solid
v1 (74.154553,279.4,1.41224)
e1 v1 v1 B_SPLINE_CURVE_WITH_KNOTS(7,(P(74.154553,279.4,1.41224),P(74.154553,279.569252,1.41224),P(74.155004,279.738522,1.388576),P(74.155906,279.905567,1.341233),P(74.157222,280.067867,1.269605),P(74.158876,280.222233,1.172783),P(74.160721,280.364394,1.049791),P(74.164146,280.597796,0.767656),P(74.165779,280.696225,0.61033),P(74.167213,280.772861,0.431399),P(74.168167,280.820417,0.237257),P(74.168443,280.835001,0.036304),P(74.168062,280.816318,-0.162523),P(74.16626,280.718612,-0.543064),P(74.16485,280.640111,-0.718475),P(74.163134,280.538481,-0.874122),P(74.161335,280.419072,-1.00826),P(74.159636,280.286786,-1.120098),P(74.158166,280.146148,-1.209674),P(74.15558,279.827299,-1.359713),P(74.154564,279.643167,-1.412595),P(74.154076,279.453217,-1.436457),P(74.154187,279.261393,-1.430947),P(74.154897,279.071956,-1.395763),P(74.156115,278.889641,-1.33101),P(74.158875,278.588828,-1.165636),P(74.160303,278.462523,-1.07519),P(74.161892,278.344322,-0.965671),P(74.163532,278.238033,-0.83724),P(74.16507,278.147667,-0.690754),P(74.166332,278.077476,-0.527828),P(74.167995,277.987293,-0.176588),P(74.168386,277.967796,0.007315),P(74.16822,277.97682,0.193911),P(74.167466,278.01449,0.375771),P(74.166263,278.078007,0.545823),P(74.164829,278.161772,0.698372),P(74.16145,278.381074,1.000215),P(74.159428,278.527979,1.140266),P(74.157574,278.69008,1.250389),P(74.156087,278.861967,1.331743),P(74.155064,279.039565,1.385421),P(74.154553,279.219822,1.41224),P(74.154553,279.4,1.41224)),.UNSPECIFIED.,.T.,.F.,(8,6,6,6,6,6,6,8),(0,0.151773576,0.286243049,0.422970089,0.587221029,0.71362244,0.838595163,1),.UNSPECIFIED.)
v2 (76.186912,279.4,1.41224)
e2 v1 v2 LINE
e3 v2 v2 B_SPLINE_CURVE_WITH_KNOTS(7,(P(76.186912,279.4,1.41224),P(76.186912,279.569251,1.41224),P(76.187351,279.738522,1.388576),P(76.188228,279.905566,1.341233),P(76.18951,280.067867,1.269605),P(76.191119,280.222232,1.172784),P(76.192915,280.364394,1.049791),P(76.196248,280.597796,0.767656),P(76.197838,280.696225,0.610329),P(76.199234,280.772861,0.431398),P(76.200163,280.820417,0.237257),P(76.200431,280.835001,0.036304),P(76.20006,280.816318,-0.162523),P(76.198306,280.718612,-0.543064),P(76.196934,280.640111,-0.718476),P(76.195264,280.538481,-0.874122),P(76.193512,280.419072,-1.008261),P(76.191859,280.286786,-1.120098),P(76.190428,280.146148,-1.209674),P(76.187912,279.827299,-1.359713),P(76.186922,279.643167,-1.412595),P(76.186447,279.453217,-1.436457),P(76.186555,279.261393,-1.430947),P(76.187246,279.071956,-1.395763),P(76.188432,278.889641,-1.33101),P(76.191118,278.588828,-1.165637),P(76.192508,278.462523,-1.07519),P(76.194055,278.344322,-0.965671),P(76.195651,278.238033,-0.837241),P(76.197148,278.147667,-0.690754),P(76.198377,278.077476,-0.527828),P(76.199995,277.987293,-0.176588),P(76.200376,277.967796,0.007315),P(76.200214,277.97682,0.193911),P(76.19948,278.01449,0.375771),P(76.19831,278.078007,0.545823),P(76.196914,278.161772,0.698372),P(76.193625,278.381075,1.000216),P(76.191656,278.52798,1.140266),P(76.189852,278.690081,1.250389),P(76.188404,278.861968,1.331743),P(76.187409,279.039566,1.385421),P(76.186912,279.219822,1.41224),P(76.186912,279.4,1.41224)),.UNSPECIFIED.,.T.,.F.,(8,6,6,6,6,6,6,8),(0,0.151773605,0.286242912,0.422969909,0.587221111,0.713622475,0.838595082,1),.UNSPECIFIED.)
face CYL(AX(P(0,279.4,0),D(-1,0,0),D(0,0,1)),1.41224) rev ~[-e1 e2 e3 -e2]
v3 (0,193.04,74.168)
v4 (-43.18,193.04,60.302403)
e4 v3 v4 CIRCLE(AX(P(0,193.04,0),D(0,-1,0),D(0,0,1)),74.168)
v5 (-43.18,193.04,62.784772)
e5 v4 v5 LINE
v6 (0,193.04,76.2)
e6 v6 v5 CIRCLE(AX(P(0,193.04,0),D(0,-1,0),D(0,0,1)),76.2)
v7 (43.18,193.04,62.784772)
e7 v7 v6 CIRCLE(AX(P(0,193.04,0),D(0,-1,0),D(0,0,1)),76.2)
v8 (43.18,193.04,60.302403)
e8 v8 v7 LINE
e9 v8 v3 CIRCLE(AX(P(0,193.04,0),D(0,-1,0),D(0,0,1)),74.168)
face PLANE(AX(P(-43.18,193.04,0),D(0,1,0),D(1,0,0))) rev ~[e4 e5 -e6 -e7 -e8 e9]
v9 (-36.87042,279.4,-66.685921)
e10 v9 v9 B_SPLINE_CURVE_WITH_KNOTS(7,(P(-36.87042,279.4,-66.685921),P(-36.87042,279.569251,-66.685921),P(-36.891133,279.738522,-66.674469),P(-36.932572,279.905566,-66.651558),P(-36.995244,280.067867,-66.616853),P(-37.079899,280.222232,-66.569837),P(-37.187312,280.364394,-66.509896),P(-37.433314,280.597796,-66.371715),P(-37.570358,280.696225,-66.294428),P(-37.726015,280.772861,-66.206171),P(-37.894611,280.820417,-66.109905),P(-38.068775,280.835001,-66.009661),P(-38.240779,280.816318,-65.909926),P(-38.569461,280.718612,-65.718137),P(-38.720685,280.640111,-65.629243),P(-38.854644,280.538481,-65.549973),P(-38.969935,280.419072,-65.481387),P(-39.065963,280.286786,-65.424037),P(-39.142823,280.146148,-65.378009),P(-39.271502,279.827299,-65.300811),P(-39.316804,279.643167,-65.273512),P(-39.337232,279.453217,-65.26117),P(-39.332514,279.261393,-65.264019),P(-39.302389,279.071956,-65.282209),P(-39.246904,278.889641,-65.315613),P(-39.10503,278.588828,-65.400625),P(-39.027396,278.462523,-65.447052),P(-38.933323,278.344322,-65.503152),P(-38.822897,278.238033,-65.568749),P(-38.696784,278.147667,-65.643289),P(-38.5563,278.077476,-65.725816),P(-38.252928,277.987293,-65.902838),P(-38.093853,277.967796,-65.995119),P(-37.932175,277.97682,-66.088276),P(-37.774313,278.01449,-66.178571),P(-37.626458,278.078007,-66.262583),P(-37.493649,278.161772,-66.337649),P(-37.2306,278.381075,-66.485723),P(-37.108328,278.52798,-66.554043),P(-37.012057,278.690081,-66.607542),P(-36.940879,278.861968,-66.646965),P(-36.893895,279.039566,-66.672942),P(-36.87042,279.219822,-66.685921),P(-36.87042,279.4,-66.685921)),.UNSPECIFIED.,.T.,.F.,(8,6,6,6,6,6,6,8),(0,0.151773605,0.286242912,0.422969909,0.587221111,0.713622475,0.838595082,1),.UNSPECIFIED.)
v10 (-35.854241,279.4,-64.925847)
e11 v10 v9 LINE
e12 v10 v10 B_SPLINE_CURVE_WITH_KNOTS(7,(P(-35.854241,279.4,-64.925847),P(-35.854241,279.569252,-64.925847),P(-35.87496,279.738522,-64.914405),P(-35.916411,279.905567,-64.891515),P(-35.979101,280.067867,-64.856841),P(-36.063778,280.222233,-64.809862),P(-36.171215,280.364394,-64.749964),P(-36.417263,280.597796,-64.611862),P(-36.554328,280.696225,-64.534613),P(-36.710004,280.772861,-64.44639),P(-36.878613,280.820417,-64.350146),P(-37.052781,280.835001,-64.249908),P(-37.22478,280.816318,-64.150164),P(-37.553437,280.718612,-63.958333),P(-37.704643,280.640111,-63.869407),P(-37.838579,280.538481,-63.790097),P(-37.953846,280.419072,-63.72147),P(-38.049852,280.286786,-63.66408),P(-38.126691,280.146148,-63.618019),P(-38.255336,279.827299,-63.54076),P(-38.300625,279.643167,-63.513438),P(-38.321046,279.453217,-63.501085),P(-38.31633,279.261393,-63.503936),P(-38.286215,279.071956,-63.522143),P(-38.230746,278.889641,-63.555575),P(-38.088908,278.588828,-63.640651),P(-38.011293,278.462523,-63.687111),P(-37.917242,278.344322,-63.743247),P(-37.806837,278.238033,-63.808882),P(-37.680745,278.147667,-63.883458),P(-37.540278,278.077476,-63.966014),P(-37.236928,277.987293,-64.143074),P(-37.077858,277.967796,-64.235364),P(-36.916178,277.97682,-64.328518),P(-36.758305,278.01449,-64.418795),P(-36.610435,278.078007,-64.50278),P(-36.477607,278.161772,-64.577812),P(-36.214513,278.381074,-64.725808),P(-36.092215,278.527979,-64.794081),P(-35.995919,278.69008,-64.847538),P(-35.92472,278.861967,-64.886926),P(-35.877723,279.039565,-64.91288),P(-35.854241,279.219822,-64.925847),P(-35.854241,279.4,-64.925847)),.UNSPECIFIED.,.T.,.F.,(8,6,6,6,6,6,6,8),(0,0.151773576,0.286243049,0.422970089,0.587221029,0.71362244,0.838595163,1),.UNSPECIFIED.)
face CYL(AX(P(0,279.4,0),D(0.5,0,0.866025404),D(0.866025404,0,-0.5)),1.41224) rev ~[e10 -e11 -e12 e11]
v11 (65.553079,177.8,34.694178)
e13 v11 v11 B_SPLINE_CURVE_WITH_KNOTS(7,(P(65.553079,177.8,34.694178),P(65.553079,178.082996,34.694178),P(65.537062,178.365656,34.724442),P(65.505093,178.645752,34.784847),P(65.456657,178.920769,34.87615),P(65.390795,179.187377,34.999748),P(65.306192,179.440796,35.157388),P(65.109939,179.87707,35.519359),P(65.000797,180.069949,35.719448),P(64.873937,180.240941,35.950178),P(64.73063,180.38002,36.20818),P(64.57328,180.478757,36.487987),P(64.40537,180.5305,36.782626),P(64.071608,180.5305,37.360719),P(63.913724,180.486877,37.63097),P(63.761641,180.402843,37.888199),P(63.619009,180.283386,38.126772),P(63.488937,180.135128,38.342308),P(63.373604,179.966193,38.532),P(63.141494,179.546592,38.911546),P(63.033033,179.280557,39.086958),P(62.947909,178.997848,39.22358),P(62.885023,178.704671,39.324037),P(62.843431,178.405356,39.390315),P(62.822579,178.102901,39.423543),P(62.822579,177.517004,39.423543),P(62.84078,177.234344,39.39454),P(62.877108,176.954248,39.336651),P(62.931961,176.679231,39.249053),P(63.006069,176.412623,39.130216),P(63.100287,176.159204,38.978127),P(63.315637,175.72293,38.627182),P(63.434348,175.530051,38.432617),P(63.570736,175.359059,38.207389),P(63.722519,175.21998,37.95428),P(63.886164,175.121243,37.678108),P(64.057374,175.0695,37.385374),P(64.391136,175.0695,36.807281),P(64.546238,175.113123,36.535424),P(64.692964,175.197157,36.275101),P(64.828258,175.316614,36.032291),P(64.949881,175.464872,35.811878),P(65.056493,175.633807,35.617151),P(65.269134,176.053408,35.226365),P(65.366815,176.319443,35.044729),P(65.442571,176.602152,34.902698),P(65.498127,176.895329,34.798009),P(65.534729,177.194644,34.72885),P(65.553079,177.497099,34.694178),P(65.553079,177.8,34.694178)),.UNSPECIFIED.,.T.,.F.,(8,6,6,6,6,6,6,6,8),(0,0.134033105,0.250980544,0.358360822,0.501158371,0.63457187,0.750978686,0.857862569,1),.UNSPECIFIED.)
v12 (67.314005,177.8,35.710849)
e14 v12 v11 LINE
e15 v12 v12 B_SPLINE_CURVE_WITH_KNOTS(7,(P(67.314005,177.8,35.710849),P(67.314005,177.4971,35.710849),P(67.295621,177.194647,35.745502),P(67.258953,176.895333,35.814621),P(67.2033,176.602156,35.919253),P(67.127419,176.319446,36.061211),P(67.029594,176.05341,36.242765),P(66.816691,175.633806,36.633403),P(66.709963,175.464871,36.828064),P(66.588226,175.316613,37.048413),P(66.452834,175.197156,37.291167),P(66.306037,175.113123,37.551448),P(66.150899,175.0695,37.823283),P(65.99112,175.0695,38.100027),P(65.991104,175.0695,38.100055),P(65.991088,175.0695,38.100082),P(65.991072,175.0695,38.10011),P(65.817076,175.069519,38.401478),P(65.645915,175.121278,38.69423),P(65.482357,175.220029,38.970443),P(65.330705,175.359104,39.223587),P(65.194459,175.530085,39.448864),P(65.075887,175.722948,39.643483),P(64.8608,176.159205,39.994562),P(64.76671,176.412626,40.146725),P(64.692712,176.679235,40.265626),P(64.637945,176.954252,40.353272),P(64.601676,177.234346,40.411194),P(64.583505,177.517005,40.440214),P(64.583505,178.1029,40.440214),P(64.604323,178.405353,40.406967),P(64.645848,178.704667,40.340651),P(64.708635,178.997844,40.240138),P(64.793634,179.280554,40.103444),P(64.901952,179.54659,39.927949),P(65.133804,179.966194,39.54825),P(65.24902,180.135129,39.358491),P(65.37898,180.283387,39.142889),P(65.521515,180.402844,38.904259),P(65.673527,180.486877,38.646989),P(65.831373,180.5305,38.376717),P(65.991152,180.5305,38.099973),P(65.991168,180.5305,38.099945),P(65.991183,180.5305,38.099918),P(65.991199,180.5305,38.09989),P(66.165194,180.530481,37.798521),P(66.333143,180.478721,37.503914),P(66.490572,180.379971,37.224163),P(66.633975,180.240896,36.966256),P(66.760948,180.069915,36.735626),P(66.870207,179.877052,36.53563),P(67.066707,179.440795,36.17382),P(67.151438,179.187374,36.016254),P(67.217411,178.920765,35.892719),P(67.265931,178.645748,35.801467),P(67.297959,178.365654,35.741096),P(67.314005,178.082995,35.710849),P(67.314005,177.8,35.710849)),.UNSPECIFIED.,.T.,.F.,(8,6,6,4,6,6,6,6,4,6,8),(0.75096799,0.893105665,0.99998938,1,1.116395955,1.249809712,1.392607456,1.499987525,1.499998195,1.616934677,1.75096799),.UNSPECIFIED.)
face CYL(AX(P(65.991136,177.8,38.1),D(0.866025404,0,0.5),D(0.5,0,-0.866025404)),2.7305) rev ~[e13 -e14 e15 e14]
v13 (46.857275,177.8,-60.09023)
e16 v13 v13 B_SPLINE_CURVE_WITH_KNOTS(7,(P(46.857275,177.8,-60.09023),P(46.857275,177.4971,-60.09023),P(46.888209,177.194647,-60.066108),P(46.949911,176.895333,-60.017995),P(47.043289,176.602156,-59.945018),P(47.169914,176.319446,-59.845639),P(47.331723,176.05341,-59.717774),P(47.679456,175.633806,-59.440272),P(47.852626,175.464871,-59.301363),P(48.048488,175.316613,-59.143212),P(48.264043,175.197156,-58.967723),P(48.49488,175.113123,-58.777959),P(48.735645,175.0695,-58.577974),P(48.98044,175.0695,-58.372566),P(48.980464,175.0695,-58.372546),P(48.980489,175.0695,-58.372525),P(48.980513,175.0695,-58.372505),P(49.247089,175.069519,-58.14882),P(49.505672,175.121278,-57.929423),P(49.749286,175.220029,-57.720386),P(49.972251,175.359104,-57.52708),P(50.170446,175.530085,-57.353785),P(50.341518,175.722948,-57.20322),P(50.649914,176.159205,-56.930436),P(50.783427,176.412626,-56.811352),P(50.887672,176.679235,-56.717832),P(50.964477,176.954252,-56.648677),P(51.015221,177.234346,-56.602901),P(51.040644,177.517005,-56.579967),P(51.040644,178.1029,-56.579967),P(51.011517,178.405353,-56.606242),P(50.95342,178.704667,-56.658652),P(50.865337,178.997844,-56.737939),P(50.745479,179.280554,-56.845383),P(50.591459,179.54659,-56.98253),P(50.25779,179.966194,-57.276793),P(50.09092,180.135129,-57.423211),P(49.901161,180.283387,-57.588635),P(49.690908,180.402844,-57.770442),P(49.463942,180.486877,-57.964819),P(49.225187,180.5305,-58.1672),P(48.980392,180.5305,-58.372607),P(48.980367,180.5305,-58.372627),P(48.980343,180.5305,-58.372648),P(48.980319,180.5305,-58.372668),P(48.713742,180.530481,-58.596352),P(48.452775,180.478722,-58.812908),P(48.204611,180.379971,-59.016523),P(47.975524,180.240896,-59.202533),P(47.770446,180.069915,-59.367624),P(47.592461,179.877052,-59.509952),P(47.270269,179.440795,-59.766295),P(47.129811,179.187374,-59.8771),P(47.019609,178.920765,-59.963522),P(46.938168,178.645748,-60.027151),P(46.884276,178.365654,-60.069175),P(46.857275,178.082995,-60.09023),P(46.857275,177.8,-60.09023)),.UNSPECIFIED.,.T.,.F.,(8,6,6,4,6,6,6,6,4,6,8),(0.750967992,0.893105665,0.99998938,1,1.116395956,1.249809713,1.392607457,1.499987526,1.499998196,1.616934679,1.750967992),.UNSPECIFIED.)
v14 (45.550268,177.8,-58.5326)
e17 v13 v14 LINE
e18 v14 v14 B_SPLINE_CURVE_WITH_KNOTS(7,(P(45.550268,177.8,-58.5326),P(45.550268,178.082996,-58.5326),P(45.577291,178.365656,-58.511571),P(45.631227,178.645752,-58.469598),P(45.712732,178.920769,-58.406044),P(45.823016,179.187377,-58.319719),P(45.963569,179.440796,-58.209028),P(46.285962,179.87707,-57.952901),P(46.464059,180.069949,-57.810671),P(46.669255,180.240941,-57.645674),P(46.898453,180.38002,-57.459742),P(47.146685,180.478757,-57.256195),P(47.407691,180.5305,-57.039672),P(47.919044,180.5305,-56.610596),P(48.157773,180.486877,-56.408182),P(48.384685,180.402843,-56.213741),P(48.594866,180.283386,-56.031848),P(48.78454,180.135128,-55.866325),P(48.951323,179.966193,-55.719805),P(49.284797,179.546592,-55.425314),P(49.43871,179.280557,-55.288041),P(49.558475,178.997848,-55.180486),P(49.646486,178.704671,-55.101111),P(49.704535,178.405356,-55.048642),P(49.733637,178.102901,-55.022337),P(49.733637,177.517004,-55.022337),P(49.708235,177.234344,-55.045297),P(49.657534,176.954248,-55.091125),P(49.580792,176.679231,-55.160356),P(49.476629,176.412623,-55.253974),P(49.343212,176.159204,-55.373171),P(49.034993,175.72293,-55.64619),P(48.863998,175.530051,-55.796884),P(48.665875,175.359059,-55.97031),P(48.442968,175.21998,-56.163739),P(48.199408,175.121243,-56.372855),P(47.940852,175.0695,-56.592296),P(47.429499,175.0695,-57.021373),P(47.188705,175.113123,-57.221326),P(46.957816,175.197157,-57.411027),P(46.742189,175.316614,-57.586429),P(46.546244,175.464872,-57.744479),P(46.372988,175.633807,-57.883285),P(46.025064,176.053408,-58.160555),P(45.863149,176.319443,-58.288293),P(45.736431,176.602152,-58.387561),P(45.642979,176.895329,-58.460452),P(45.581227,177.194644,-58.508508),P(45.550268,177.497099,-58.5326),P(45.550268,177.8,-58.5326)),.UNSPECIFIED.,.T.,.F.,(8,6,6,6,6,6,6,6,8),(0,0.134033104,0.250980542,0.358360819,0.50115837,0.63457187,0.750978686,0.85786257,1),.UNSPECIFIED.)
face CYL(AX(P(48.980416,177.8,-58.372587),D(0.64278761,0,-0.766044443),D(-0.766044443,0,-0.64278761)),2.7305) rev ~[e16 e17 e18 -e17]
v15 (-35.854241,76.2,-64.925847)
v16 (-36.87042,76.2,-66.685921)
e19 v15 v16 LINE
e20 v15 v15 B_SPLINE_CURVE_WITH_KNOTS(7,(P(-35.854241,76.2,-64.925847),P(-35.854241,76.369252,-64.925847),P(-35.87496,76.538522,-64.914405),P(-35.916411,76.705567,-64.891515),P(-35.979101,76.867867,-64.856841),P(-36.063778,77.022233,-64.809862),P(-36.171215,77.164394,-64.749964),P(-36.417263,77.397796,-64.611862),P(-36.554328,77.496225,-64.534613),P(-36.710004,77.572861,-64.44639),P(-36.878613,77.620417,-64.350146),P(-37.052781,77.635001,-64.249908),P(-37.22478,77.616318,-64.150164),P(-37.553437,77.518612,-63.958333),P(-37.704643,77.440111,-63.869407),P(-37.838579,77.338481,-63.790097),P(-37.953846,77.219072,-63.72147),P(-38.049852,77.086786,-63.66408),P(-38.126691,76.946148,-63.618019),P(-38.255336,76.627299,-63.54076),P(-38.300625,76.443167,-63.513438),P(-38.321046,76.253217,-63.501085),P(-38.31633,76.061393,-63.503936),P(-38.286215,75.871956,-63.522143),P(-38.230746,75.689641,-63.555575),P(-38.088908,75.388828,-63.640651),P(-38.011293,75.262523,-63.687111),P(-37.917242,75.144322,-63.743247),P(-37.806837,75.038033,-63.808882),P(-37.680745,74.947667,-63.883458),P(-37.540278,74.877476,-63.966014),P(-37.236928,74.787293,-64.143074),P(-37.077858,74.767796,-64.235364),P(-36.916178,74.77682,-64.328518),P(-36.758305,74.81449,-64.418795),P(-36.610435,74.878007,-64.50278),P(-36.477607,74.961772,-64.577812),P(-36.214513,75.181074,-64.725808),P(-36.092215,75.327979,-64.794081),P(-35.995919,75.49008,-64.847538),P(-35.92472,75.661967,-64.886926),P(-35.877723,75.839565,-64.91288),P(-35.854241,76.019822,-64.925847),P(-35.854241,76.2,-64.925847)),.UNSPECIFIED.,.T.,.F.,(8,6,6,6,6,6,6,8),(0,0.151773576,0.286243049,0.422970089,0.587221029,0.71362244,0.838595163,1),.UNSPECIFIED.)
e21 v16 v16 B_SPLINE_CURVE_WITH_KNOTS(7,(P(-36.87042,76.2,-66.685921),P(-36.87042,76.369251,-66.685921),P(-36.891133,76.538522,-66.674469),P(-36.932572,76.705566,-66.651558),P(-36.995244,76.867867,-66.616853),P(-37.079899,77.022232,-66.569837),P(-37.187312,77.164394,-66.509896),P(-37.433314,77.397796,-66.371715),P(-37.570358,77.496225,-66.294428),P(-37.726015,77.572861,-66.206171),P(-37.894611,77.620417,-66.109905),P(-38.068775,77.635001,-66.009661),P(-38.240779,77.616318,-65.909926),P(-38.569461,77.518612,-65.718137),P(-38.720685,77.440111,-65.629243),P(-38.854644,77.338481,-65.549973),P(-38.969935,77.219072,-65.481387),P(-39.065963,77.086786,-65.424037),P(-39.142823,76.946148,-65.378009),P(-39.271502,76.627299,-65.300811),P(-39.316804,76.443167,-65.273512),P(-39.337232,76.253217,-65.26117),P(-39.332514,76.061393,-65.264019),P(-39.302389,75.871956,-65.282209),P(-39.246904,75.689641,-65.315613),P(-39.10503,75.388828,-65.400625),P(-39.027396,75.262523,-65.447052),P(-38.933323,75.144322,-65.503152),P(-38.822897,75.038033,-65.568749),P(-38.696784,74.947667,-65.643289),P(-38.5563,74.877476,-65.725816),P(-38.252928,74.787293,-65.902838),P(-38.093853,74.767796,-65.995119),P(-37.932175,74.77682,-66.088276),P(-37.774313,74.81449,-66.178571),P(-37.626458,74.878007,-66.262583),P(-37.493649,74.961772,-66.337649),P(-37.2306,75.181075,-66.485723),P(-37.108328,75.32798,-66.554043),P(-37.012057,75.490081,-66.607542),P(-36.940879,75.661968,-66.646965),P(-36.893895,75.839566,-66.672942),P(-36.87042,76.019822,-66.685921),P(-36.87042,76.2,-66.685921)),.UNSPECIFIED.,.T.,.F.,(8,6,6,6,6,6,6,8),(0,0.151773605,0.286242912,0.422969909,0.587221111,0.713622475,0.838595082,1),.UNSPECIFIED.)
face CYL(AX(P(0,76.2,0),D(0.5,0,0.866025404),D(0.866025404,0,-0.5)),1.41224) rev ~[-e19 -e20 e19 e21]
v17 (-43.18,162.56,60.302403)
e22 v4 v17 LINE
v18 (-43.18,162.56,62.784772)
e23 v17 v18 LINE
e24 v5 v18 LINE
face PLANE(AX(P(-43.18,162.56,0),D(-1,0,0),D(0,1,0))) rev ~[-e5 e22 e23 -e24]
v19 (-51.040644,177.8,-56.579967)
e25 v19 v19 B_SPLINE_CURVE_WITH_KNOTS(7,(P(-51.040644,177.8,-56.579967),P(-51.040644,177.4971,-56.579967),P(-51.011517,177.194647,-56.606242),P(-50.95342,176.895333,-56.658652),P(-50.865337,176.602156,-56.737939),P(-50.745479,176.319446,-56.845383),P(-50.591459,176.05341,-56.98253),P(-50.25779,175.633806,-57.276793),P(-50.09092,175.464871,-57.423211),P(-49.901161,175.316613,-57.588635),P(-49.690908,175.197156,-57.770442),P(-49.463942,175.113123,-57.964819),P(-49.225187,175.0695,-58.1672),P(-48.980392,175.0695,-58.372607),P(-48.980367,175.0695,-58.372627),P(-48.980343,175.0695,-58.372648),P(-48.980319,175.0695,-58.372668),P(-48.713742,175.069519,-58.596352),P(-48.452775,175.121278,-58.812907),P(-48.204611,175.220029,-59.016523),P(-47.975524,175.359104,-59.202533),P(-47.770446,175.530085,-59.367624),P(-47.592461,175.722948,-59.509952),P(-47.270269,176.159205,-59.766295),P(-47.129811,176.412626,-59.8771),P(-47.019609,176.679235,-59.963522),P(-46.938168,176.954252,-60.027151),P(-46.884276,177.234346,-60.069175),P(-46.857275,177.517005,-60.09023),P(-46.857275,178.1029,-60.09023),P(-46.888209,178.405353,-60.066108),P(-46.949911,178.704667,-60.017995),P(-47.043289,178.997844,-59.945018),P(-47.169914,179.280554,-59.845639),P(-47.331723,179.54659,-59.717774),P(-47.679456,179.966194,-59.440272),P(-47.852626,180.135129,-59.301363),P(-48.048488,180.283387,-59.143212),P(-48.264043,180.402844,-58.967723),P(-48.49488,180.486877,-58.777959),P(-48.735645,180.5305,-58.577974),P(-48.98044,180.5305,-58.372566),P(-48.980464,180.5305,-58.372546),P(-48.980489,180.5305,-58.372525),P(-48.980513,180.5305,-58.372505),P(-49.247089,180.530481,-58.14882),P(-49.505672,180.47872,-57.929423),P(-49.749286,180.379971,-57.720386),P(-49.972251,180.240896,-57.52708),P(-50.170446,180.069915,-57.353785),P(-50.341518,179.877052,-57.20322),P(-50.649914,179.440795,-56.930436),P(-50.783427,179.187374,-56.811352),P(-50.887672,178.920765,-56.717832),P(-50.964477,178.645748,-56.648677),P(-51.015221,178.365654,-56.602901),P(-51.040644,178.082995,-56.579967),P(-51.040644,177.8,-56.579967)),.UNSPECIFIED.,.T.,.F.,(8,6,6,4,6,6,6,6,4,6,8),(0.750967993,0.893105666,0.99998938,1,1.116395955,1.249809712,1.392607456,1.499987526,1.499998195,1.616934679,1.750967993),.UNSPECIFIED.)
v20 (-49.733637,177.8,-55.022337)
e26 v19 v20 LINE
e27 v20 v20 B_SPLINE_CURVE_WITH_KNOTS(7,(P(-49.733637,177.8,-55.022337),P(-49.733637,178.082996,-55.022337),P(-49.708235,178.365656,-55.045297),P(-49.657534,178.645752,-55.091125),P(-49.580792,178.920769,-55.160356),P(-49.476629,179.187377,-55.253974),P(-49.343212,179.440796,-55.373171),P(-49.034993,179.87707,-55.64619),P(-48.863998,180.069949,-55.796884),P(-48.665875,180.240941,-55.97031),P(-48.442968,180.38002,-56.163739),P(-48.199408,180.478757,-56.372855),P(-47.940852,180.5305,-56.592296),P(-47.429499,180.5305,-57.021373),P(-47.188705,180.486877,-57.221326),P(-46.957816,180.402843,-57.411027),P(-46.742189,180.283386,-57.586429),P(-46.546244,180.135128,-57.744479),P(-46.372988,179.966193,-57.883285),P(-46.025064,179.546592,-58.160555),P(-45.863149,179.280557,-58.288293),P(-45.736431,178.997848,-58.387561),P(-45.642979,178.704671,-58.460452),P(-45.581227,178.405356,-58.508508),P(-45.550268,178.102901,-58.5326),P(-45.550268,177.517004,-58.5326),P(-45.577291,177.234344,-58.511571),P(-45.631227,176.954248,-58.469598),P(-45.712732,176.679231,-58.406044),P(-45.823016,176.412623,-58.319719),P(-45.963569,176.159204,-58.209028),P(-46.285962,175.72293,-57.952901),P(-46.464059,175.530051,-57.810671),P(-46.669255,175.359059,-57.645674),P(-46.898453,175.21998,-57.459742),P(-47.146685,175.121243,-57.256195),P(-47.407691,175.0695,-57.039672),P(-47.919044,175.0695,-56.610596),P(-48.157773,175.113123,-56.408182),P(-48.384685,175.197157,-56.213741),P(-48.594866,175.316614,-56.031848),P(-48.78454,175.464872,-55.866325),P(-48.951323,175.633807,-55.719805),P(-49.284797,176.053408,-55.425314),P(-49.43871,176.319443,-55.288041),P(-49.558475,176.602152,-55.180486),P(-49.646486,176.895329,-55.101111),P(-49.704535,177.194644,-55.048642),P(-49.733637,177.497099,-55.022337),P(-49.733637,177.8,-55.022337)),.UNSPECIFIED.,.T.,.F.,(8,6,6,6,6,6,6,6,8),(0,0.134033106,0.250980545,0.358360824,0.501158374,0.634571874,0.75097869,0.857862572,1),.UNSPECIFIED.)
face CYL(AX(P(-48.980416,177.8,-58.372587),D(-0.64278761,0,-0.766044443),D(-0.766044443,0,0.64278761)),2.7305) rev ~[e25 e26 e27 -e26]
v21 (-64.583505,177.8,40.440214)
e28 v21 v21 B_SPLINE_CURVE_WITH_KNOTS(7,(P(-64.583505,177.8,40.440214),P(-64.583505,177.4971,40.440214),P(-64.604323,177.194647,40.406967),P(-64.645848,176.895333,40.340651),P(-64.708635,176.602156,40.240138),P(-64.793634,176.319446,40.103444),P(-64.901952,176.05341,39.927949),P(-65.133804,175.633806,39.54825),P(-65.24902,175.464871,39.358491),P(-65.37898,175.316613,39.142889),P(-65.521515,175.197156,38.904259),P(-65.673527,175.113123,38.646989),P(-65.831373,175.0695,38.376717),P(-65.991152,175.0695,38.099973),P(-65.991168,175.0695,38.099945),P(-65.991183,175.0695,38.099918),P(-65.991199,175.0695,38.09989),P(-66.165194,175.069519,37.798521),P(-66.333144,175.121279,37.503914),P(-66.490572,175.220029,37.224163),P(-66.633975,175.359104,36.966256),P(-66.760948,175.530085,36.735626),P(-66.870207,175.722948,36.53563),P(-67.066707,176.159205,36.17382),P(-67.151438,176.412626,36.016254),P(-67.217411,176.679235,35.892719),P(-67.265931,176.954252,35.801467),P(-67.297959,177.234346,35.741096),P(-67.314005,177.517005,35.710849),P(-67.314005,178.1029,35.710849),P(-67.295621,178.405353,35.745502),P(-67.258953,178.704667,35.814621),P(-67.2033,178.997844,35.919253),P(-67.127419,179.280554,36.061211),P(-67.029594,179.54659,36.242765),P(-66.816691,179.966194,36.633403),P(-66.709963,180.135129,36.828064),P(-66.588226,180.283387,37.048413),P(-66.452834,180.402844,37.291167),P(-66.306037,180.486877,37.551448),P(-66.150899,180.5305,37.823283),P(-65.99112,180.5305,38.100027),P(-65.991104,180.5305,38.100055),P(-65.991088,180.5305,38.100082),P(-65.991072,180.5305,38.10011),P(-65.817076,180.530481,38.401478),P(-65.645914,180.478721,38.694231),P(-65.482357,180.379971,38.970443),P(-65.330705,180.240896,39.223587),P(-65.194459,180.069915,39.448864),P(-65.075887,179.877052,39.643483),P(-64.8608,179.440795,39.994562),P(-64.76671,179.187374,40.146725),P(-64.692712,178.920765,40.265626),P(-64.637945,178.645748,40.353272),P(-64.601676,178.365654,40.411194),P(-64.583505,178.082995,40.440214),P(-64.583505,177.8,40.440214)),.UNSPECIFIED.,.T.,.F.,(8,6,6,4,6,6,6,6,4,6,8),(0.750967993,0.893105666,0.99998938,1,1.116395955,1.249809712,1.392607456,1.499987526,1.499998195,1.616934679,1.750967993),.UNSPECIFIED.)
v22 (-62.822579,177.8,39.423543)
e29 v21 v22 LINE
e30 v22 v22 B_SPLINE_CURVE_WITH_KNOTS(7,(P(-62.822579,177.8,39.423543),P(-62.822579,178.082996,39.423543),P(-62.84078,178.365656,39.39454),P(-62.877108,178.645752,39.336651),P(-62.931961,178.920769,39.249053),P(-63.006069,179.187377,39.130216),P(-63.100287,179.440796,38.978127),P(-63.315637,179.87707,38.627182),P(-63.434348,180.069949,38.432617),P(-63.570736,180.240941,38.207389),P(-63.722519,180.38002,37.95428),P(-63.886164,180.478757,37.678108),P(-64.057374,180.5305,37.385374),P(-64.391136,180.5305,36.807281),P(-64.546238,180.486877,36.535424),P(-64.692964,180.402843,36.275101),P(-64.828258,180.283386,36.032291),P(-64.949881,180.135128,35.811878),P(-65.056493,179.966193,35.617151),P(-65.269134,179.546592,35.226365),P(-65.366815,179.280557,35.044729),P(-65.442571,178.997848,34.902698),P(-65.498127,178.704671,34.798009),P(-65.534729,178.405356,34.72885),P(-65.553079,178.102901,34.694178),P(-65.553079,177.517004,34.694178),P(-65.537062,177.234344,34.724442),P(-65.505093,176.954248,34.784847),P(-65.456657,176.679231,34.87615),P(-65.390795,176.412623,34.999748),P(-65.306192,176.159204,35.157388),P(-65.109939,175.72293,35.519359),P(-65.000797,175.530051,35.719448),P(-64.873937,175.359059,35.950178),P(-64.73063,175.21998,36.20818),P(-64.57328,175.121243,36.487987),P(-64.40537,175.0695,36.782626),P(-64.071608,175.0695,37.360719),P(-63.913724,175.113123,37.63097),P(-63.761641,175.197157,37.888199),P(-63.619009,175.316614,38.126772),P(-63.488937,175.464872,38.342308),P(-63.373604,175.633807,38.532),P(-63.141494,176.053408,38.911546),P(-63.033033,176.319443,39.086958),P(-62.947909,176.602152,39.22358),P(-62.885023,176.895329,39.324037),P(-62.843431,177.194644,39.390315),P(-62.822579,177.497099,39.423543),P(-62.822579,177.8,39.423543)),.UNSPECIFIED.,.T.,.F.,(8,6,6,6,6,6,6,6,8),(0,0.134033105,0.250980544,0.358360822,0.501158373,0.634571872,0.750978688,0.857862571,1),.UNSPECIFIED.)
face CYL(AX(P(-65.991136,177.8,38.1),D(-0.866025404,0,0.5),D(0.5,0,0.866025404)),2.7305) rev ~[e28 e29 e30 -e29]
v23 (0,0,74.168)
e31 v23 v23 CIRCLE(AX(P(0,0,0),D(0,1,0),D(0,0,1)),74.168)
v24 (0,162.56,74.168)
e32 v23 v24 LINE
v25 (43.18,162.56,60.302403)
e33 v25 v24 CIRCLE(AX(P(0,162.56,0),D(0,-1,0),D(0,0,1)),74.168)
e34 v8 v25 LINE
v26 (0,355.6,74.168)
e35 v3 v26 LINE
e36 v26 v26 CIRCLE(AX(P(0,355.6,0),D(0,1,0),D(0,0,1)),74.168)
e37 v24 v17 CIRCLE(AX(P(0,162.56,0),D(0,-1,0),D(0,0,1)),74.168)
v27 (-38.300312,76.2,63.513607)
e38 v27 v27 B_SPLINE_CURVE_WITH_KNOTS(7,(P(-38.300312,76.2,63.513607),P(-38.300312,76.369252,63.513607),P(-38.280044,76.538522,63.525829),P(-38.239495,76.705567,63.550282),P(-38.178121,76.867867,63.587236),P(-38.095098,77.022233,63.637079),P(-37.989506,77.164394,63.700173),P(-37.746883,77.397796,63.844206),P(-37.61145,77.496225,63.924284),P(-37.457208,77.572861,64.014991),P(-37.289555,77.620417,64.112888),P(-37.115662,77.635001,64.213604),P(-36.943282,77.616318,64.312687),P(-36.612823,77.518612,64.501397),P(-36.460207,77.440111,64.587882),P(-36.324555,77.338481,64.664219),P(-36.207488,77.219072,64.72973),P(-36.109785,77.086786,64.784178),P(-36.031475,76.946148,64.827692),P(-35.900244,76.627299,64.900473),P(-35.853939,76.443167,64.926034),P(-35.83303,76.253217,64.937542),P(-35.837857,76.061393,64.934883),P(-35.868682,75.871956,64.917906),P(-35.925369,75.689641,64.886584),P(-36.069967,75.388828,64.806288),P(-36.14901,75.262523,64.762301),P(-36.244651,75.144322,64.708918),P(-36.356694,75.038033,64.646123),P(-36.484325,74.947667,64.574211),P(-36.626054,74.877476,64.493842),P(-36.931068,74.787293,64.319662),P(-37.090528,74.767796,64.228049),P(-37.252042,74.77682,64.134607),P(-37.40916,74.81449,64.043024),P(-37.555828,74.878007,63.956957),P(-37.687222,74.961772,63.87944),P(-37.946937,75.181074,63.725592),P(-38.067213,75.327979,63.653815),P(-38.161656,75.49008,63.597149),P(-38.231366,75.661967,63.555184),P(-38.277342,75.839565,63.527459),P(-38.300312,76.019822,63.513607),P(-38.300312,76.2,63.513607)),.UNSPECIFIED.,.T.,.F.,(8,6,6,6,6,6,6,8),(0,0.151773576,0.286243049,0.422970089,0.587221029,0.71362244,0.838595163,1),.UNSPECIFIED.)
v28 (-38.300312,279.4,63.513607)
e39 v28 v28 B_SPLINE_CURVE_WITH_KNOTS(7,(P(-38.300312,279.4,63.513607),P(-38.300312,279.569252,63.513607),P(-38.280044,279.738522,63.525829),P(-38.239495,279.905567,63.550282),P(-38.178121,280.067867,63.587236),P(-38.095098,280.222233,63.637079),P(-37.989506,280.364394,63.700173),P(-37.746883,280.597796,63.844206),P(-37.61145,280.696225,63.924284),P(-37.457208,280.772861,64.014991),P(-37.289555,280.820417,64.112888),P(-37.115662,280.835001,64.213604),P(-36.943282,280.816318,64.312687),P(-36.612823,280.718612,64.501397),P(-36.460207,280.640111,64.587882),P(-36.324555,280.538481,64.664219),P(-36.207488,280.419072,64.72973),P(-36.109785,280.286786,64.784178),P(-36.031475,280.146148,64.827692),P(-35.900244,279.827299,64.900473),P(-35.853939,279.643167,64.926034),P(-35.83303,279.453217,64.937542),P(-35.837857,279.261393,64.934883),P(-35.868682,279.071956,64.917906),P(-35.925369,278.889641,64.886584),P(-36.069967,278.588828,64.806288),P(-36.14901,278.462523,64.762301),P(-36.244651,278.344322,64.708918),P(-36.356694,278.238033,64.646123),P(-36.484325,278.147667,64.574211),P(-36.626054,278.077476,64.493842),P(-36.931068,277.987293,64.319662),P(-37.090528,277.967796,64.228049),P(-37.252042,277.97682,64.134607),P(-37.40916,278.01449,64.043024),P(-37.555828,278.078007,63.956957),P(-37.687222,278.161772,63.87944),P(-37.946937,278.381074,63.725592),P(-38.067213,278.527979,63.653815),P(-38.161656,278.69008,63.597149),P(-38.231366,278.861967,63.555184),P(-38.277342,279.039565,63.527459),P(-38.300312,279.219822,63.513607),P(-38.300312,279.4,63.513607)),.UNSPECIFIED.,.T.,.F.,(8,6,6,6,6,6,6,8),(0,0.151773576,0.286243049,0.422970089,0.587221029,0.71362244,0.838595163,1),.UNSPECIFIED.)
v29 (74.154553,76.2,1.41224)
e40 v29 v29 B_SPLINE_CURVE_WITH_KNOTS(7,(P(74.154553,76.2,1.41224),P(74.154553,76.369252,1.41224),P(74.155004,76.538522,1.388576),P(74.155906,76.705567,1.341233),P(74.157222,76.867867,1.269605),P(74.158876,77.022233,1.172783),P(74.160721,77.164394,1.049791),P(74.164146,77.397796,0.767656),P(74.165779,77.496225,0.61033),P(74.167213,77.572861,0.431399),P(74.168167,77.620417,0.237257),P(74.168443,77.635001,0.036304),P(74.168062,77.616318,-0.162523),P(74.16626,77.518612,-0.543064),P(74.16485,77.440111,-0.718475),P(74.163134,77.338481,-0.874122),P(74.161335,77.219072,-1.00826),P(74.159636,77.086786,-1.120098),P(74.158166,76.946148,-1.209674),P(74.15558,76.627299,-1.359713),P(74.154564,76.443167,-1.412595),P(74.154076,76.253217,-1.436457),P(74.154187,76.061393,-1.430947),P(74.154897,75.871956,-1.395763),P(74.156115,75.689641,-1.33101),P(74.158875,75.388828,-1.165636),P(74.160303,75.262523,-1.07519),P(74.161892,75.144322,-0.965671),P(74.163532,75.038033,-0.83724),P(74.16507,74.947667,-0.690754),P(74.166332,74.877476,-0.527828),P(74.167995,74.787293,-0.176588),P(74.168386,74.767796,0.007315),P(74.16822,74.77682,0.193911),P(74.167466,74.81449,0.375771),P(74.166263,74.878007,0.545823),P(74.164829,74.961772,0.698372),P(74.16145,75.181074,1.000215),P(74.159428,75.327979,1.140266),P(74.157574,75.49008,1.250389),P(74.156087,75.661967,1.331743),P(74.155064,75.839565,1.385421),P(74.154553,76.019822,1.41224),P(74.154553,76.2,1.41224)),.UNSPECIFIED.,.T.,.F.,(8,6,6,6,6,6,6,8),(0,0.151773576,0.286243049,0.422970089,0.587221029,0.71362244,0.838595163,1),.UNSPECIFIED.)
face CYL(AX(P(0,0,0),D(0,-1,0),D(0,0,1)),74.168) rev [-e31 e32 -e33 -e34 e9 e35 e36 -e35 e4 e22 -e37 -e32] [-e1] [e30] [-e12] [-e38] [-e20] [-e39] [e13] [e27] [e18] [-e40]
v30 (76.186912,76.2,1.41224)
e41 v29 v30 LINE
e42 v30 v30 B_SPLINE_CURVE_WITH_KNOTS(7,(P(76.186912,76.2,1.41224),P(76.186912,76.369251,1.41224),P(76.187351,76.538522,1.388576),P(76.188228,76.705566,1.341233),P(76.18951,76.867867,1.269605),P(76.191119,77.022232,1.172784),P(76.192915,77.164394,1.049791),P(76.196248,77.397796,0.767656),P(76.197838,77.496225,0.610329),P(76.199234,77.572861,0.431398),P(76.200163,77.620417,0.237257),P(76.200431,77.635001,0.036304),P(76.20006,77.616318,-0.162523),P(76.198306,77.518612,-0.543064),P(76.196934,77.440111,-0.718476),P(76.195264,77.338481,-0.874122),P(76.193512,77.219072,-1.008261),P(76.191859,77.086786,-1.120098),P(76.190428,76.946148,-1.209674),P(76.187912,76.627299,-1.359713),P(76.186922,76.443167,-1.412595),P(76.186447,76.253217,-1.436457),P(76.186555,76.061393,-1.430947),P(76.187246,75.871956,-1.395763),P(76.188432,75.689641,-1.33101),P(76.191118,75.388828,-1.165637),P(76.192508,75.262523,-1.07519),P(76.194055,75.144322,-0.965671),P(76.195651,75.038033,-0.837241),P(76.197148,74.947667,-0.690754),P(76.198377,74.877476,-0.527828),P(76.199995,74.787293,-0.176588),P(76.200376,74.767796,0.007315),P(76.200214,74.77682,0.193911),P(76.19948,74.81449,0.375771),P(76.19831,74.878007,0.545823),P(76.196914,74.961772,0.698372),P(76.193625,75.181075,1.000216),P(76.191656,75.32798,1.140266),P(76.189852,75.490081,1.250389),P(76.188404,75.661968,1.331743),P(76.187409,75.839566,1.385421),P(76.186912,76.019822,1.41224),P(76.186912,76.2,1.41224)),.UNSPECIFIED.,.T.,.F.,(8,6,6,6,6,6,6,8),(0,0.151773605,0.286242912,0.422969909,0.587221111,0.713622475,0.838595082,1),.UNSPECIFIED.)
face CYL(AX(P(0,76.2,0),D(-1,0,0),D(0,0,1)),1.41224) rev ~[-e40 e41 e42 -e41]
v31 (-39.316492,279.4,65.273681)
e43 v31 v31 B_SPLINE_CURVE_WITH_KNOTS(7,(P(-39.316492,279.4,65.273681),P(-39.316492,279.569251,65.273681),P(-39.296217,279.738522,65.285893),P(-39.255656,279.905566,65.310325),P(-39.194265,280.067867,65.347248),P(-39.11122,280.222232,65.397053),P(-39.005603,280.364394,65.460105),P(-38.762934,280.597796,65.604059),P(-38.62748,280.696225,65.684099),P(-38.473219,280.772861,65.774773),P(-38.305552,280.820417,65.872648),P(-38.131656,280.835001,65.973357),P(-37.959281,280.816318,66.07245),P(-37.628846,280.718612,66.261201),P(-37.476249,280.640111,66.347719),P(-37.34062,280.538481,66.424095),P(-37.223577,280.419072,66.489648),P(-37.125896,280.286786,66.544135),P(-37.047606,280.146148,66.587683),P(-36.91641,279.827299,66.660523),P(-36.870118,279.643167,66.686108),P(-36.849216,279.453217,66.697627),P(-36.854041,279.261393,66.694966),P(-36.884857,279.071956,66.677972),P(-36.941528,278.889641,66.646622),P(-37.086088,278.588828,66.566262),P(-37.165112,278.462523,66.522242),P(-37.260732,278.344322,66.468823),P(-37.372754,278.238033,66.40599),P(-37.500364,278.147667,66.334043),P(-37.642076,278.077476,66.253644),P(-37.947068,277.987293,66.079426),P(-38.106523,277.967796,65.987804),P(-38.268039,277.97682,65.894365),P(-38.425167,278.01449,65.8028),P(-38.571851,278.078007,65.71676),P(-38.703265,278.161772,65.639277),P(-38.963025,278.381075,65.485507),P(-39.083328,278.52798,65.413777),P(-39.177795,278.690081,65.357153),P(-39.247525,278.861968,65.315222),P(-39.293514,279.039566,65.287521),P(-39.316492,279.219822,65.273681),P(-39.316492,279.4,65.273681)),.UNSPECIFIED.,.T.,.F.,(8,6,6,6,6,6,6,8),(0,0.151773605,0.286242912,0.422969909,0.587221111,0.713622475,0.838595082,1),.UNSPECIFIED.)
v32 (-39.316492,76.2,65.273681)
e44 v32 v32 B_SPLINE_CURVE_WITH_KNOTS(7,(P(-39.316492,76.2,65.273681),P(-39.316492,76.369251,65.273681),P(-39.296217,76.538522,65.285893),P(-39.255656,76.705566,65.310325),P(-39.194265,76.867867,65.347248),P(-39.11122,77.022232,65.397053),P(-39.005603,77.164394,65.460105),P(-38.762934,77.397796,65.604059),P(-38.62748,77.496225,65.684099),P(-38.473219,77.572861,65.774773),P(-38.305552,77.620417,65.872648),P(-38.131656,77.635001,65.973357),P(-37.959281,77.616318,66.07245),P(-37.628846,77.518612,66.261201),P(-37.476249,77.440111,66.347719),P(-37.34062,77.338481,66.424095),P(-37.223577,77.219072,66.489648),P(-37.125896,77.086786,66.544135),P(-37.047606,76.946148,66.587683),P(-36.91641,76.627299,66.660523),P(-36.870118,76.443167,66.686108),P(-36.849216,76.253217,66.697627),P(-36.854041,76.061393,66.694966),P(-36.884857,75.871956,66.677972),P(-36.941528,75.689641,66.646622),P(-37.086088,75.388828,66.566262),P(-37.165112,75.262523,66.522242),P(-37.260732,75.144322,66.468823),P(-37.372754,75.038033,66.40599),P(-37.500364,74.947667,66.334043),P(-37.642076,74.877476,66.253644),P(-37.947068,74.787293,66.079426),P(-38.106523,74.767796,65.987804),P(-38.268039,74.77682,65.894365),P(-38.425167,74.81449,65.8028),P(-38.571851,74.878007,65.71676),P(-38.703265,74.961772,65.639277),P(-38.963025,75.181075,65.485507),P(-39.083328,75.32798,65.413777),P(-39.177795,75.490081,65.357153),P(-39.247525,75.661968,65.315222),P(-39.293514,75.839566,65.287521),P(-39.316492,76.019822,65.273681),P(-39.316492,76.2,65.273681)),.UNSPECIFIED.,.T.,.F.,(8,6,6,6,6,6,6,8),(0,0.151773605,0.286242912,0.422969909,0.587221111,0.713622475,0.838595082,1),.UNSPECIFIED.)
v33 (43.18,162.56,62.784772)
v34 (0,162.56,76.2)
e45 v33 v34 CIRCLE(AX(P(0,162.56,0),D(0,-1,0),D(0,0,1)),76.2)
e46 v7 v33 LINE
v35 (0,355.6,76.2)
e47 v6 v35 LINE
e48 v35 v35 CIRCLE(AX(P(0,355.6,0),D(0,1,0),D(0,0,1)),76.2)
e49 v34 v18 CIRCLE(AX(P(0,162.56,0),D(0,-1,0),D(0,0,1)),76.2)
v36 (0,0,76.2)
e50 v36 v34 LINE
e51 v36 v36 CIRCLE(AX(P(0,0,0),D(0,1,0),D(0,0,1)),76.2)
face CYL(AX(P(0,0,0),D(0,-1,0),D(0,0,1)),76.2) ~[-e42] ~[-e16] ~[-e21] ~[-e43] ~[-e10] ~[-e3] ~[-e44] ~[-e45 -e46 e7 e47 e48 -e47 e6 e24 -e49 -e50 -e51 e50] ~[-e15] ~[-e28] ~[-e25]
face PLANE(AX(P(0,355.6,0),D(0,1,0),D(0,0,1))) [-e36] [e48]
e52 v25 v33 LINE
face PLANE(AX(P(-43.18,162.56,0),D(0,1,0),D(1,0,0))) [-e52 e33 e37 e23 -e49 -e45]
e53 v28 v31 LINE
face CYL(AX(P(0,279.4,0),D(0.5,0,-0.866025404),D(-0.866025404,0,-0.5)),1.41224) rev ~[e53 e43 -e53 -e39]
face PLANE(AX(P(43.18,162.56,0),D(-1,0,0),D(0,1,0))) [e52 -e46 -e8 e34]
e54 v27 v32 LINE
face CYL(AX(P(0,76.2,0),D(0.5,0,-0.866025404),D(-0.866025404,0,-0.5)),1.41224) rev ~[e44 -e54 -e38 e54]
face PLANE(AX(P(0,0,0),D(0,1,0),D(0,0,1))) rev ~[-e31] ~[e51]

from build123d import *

# Parameters (mm, degrees)
SKETCH1_R               = 76.2
SKETCH1_R_2             = 74.168
BOSS_EXTRUDE1_DEPTH     = 355.6
SKETCH2_W               = 86.36
SKETCH2_H               = 30.48
CUT_EXTRUDE1_DEPTH      = 90.424
SKETCH3_R               = 2.7305
CUT_EXTRUDE2_DEPTH      = 2.54
CIRPATTERN1_COUNT       = 4
CIRPATTERN1_ANGLE       = 240
CUT_EXTRUDE3_REACH      = 378.288
CUT_EXTRUDE3_END_RADIUS = 76.2
SKETCH4_R               = 1.41224
CIRPATTERN2_COUNT       = 3


with BuildPart() as part:
    # Sketch1 → Boss-Extrude1 (new body)
    with BuildSketch(Plane(origin=(0, 0, 0), x_dir=(1, 0, 0), z_dir=(0, 1, 0))):
        with Locations(Location((0, 0, 0), (0, 0, 270))):
            Circle(SKETCH1_R)
        with Locations(Location((0, 0, 0), (0, 0, 270))):
            Circle(SKETCH1_R_2, mode=Mode.SUBTRACT)
    extrude(amount=BOSS_EXTRUDE1_DEPTH)

    # Sketch2 → Cut-Extrude1 (cut)
    with BuildSketch(Plane.XY):
        with Locations((0, 177.8)):
            Rectangle(SKETCH2_W, SKETCH2_H)
    extrude(amount=CUT_EXTRUDE1_DEPTH, mode=Mode.SUBTRACT)

    # Sketch3 → Cut-Extrude2 (cut)
    with BuildSketch(Plane(origin=(-65.991135768, 0, 38.1), x_dir=(0, -1, 0), z_dir=(-0.8660254037844416, 0, 0.49999999999999495))):
        with Locations(Location((-177.8, 0, 0), (0, 0, 90))):
            Circle(SKETCH3_R)
    cut_extrude2 = extrude(amount=-CUT_EXTRUDE2_DEPTH, mode=Mode.SUBTRACT)

    # CirPattern1: Cut-Extrude2 ×4 about axis
    cirpattern1_axis = Axis((0, 355.6, 0), (0, -1, 0))
    for i in range(1, CIRPATTERN1_COUNT):
        add(cut_extrude2.rotate(cirpattern1_axis, i * CIRPATTERN1_ANGLE / (CIRPATTERN1_COUNT - 1)), mode=Mode.SUBTRACT)

    # Cut-Extrude3: up to this cylinder (the profile starts inside it)
    cut_extrude3_end = Plane(origin=(0, 177.8, 0), z_dir=(0, -1, 0)) * Cylinder(CUT_EXTRUDE3_END_RADIUS, 1113.176, mode=Mode.PRIVATE)
    # Sketch4 → Cut-Extrude3 (cut, up to the surface)
    with BuildSketch(Plane(origin=(0, 0, 20.417728463), x_dir=(0, -1, 0), z_dir=(-1, 0, 0)), mode=Mode.PRIVATE) as cut_extrude3_sk1:
        with Locations(Location((-76.2, -20.417728463, 0), (0, 0, 90))):
            Circle(SKETCH4_R)
    cut_extrude3_tool1 = extrude(cut_extrude3_sk1.sketch, amount=-CUT_EXTRUDE3_REACH, mode=Mode.PRIVATE) & cut_extrude3_end
    # Sketch4 → Cut-Extrude3 (cut, up to the surface)
    with BuildSketch(Plane(origin=(0, 0, 20.417728463), x_dir=(0, -1, 0), z_dir=(-1, 0, 0)), mode=Mode.PRIVATE) as cut_extrude3_sk2:
        with Locations(Location((-279.4, -20.417728463, 0), (0, 0, 90))):
            Circle(SKETCH4_R)
    cut_extrude3_tool2 = extrude(cut_extrude3_sk2.sketch, amount=-CUT_EXTRUDE3_REACH, mode=Mode.PRIVATE) & cut_extrude3_end
    cut_extrude3 = cut_extrude3_tool1.solids().sort_by_distance((0, 76.2, 0))[0] + cut_extrude3_tool2.solids().sort_by_distance((0, 279.4, 0))[0]
    add(cut_extrude3, mode=Mode.SUBTRACT)

    # CirPattern2: Cut-Extrude3 ×3 about axis
    cirpattern2_axis = Axis((0, 355.6, 0), (0, 1, 0))
    for i in range(1, CIRPATTERN2_COUNT):
        add(cut_extrude3.rotate(cirpattern2_axis, i * 360 / CIRPATTERN2_COUNT), mode=Mode.SUBTRACT)


solid = part.part
